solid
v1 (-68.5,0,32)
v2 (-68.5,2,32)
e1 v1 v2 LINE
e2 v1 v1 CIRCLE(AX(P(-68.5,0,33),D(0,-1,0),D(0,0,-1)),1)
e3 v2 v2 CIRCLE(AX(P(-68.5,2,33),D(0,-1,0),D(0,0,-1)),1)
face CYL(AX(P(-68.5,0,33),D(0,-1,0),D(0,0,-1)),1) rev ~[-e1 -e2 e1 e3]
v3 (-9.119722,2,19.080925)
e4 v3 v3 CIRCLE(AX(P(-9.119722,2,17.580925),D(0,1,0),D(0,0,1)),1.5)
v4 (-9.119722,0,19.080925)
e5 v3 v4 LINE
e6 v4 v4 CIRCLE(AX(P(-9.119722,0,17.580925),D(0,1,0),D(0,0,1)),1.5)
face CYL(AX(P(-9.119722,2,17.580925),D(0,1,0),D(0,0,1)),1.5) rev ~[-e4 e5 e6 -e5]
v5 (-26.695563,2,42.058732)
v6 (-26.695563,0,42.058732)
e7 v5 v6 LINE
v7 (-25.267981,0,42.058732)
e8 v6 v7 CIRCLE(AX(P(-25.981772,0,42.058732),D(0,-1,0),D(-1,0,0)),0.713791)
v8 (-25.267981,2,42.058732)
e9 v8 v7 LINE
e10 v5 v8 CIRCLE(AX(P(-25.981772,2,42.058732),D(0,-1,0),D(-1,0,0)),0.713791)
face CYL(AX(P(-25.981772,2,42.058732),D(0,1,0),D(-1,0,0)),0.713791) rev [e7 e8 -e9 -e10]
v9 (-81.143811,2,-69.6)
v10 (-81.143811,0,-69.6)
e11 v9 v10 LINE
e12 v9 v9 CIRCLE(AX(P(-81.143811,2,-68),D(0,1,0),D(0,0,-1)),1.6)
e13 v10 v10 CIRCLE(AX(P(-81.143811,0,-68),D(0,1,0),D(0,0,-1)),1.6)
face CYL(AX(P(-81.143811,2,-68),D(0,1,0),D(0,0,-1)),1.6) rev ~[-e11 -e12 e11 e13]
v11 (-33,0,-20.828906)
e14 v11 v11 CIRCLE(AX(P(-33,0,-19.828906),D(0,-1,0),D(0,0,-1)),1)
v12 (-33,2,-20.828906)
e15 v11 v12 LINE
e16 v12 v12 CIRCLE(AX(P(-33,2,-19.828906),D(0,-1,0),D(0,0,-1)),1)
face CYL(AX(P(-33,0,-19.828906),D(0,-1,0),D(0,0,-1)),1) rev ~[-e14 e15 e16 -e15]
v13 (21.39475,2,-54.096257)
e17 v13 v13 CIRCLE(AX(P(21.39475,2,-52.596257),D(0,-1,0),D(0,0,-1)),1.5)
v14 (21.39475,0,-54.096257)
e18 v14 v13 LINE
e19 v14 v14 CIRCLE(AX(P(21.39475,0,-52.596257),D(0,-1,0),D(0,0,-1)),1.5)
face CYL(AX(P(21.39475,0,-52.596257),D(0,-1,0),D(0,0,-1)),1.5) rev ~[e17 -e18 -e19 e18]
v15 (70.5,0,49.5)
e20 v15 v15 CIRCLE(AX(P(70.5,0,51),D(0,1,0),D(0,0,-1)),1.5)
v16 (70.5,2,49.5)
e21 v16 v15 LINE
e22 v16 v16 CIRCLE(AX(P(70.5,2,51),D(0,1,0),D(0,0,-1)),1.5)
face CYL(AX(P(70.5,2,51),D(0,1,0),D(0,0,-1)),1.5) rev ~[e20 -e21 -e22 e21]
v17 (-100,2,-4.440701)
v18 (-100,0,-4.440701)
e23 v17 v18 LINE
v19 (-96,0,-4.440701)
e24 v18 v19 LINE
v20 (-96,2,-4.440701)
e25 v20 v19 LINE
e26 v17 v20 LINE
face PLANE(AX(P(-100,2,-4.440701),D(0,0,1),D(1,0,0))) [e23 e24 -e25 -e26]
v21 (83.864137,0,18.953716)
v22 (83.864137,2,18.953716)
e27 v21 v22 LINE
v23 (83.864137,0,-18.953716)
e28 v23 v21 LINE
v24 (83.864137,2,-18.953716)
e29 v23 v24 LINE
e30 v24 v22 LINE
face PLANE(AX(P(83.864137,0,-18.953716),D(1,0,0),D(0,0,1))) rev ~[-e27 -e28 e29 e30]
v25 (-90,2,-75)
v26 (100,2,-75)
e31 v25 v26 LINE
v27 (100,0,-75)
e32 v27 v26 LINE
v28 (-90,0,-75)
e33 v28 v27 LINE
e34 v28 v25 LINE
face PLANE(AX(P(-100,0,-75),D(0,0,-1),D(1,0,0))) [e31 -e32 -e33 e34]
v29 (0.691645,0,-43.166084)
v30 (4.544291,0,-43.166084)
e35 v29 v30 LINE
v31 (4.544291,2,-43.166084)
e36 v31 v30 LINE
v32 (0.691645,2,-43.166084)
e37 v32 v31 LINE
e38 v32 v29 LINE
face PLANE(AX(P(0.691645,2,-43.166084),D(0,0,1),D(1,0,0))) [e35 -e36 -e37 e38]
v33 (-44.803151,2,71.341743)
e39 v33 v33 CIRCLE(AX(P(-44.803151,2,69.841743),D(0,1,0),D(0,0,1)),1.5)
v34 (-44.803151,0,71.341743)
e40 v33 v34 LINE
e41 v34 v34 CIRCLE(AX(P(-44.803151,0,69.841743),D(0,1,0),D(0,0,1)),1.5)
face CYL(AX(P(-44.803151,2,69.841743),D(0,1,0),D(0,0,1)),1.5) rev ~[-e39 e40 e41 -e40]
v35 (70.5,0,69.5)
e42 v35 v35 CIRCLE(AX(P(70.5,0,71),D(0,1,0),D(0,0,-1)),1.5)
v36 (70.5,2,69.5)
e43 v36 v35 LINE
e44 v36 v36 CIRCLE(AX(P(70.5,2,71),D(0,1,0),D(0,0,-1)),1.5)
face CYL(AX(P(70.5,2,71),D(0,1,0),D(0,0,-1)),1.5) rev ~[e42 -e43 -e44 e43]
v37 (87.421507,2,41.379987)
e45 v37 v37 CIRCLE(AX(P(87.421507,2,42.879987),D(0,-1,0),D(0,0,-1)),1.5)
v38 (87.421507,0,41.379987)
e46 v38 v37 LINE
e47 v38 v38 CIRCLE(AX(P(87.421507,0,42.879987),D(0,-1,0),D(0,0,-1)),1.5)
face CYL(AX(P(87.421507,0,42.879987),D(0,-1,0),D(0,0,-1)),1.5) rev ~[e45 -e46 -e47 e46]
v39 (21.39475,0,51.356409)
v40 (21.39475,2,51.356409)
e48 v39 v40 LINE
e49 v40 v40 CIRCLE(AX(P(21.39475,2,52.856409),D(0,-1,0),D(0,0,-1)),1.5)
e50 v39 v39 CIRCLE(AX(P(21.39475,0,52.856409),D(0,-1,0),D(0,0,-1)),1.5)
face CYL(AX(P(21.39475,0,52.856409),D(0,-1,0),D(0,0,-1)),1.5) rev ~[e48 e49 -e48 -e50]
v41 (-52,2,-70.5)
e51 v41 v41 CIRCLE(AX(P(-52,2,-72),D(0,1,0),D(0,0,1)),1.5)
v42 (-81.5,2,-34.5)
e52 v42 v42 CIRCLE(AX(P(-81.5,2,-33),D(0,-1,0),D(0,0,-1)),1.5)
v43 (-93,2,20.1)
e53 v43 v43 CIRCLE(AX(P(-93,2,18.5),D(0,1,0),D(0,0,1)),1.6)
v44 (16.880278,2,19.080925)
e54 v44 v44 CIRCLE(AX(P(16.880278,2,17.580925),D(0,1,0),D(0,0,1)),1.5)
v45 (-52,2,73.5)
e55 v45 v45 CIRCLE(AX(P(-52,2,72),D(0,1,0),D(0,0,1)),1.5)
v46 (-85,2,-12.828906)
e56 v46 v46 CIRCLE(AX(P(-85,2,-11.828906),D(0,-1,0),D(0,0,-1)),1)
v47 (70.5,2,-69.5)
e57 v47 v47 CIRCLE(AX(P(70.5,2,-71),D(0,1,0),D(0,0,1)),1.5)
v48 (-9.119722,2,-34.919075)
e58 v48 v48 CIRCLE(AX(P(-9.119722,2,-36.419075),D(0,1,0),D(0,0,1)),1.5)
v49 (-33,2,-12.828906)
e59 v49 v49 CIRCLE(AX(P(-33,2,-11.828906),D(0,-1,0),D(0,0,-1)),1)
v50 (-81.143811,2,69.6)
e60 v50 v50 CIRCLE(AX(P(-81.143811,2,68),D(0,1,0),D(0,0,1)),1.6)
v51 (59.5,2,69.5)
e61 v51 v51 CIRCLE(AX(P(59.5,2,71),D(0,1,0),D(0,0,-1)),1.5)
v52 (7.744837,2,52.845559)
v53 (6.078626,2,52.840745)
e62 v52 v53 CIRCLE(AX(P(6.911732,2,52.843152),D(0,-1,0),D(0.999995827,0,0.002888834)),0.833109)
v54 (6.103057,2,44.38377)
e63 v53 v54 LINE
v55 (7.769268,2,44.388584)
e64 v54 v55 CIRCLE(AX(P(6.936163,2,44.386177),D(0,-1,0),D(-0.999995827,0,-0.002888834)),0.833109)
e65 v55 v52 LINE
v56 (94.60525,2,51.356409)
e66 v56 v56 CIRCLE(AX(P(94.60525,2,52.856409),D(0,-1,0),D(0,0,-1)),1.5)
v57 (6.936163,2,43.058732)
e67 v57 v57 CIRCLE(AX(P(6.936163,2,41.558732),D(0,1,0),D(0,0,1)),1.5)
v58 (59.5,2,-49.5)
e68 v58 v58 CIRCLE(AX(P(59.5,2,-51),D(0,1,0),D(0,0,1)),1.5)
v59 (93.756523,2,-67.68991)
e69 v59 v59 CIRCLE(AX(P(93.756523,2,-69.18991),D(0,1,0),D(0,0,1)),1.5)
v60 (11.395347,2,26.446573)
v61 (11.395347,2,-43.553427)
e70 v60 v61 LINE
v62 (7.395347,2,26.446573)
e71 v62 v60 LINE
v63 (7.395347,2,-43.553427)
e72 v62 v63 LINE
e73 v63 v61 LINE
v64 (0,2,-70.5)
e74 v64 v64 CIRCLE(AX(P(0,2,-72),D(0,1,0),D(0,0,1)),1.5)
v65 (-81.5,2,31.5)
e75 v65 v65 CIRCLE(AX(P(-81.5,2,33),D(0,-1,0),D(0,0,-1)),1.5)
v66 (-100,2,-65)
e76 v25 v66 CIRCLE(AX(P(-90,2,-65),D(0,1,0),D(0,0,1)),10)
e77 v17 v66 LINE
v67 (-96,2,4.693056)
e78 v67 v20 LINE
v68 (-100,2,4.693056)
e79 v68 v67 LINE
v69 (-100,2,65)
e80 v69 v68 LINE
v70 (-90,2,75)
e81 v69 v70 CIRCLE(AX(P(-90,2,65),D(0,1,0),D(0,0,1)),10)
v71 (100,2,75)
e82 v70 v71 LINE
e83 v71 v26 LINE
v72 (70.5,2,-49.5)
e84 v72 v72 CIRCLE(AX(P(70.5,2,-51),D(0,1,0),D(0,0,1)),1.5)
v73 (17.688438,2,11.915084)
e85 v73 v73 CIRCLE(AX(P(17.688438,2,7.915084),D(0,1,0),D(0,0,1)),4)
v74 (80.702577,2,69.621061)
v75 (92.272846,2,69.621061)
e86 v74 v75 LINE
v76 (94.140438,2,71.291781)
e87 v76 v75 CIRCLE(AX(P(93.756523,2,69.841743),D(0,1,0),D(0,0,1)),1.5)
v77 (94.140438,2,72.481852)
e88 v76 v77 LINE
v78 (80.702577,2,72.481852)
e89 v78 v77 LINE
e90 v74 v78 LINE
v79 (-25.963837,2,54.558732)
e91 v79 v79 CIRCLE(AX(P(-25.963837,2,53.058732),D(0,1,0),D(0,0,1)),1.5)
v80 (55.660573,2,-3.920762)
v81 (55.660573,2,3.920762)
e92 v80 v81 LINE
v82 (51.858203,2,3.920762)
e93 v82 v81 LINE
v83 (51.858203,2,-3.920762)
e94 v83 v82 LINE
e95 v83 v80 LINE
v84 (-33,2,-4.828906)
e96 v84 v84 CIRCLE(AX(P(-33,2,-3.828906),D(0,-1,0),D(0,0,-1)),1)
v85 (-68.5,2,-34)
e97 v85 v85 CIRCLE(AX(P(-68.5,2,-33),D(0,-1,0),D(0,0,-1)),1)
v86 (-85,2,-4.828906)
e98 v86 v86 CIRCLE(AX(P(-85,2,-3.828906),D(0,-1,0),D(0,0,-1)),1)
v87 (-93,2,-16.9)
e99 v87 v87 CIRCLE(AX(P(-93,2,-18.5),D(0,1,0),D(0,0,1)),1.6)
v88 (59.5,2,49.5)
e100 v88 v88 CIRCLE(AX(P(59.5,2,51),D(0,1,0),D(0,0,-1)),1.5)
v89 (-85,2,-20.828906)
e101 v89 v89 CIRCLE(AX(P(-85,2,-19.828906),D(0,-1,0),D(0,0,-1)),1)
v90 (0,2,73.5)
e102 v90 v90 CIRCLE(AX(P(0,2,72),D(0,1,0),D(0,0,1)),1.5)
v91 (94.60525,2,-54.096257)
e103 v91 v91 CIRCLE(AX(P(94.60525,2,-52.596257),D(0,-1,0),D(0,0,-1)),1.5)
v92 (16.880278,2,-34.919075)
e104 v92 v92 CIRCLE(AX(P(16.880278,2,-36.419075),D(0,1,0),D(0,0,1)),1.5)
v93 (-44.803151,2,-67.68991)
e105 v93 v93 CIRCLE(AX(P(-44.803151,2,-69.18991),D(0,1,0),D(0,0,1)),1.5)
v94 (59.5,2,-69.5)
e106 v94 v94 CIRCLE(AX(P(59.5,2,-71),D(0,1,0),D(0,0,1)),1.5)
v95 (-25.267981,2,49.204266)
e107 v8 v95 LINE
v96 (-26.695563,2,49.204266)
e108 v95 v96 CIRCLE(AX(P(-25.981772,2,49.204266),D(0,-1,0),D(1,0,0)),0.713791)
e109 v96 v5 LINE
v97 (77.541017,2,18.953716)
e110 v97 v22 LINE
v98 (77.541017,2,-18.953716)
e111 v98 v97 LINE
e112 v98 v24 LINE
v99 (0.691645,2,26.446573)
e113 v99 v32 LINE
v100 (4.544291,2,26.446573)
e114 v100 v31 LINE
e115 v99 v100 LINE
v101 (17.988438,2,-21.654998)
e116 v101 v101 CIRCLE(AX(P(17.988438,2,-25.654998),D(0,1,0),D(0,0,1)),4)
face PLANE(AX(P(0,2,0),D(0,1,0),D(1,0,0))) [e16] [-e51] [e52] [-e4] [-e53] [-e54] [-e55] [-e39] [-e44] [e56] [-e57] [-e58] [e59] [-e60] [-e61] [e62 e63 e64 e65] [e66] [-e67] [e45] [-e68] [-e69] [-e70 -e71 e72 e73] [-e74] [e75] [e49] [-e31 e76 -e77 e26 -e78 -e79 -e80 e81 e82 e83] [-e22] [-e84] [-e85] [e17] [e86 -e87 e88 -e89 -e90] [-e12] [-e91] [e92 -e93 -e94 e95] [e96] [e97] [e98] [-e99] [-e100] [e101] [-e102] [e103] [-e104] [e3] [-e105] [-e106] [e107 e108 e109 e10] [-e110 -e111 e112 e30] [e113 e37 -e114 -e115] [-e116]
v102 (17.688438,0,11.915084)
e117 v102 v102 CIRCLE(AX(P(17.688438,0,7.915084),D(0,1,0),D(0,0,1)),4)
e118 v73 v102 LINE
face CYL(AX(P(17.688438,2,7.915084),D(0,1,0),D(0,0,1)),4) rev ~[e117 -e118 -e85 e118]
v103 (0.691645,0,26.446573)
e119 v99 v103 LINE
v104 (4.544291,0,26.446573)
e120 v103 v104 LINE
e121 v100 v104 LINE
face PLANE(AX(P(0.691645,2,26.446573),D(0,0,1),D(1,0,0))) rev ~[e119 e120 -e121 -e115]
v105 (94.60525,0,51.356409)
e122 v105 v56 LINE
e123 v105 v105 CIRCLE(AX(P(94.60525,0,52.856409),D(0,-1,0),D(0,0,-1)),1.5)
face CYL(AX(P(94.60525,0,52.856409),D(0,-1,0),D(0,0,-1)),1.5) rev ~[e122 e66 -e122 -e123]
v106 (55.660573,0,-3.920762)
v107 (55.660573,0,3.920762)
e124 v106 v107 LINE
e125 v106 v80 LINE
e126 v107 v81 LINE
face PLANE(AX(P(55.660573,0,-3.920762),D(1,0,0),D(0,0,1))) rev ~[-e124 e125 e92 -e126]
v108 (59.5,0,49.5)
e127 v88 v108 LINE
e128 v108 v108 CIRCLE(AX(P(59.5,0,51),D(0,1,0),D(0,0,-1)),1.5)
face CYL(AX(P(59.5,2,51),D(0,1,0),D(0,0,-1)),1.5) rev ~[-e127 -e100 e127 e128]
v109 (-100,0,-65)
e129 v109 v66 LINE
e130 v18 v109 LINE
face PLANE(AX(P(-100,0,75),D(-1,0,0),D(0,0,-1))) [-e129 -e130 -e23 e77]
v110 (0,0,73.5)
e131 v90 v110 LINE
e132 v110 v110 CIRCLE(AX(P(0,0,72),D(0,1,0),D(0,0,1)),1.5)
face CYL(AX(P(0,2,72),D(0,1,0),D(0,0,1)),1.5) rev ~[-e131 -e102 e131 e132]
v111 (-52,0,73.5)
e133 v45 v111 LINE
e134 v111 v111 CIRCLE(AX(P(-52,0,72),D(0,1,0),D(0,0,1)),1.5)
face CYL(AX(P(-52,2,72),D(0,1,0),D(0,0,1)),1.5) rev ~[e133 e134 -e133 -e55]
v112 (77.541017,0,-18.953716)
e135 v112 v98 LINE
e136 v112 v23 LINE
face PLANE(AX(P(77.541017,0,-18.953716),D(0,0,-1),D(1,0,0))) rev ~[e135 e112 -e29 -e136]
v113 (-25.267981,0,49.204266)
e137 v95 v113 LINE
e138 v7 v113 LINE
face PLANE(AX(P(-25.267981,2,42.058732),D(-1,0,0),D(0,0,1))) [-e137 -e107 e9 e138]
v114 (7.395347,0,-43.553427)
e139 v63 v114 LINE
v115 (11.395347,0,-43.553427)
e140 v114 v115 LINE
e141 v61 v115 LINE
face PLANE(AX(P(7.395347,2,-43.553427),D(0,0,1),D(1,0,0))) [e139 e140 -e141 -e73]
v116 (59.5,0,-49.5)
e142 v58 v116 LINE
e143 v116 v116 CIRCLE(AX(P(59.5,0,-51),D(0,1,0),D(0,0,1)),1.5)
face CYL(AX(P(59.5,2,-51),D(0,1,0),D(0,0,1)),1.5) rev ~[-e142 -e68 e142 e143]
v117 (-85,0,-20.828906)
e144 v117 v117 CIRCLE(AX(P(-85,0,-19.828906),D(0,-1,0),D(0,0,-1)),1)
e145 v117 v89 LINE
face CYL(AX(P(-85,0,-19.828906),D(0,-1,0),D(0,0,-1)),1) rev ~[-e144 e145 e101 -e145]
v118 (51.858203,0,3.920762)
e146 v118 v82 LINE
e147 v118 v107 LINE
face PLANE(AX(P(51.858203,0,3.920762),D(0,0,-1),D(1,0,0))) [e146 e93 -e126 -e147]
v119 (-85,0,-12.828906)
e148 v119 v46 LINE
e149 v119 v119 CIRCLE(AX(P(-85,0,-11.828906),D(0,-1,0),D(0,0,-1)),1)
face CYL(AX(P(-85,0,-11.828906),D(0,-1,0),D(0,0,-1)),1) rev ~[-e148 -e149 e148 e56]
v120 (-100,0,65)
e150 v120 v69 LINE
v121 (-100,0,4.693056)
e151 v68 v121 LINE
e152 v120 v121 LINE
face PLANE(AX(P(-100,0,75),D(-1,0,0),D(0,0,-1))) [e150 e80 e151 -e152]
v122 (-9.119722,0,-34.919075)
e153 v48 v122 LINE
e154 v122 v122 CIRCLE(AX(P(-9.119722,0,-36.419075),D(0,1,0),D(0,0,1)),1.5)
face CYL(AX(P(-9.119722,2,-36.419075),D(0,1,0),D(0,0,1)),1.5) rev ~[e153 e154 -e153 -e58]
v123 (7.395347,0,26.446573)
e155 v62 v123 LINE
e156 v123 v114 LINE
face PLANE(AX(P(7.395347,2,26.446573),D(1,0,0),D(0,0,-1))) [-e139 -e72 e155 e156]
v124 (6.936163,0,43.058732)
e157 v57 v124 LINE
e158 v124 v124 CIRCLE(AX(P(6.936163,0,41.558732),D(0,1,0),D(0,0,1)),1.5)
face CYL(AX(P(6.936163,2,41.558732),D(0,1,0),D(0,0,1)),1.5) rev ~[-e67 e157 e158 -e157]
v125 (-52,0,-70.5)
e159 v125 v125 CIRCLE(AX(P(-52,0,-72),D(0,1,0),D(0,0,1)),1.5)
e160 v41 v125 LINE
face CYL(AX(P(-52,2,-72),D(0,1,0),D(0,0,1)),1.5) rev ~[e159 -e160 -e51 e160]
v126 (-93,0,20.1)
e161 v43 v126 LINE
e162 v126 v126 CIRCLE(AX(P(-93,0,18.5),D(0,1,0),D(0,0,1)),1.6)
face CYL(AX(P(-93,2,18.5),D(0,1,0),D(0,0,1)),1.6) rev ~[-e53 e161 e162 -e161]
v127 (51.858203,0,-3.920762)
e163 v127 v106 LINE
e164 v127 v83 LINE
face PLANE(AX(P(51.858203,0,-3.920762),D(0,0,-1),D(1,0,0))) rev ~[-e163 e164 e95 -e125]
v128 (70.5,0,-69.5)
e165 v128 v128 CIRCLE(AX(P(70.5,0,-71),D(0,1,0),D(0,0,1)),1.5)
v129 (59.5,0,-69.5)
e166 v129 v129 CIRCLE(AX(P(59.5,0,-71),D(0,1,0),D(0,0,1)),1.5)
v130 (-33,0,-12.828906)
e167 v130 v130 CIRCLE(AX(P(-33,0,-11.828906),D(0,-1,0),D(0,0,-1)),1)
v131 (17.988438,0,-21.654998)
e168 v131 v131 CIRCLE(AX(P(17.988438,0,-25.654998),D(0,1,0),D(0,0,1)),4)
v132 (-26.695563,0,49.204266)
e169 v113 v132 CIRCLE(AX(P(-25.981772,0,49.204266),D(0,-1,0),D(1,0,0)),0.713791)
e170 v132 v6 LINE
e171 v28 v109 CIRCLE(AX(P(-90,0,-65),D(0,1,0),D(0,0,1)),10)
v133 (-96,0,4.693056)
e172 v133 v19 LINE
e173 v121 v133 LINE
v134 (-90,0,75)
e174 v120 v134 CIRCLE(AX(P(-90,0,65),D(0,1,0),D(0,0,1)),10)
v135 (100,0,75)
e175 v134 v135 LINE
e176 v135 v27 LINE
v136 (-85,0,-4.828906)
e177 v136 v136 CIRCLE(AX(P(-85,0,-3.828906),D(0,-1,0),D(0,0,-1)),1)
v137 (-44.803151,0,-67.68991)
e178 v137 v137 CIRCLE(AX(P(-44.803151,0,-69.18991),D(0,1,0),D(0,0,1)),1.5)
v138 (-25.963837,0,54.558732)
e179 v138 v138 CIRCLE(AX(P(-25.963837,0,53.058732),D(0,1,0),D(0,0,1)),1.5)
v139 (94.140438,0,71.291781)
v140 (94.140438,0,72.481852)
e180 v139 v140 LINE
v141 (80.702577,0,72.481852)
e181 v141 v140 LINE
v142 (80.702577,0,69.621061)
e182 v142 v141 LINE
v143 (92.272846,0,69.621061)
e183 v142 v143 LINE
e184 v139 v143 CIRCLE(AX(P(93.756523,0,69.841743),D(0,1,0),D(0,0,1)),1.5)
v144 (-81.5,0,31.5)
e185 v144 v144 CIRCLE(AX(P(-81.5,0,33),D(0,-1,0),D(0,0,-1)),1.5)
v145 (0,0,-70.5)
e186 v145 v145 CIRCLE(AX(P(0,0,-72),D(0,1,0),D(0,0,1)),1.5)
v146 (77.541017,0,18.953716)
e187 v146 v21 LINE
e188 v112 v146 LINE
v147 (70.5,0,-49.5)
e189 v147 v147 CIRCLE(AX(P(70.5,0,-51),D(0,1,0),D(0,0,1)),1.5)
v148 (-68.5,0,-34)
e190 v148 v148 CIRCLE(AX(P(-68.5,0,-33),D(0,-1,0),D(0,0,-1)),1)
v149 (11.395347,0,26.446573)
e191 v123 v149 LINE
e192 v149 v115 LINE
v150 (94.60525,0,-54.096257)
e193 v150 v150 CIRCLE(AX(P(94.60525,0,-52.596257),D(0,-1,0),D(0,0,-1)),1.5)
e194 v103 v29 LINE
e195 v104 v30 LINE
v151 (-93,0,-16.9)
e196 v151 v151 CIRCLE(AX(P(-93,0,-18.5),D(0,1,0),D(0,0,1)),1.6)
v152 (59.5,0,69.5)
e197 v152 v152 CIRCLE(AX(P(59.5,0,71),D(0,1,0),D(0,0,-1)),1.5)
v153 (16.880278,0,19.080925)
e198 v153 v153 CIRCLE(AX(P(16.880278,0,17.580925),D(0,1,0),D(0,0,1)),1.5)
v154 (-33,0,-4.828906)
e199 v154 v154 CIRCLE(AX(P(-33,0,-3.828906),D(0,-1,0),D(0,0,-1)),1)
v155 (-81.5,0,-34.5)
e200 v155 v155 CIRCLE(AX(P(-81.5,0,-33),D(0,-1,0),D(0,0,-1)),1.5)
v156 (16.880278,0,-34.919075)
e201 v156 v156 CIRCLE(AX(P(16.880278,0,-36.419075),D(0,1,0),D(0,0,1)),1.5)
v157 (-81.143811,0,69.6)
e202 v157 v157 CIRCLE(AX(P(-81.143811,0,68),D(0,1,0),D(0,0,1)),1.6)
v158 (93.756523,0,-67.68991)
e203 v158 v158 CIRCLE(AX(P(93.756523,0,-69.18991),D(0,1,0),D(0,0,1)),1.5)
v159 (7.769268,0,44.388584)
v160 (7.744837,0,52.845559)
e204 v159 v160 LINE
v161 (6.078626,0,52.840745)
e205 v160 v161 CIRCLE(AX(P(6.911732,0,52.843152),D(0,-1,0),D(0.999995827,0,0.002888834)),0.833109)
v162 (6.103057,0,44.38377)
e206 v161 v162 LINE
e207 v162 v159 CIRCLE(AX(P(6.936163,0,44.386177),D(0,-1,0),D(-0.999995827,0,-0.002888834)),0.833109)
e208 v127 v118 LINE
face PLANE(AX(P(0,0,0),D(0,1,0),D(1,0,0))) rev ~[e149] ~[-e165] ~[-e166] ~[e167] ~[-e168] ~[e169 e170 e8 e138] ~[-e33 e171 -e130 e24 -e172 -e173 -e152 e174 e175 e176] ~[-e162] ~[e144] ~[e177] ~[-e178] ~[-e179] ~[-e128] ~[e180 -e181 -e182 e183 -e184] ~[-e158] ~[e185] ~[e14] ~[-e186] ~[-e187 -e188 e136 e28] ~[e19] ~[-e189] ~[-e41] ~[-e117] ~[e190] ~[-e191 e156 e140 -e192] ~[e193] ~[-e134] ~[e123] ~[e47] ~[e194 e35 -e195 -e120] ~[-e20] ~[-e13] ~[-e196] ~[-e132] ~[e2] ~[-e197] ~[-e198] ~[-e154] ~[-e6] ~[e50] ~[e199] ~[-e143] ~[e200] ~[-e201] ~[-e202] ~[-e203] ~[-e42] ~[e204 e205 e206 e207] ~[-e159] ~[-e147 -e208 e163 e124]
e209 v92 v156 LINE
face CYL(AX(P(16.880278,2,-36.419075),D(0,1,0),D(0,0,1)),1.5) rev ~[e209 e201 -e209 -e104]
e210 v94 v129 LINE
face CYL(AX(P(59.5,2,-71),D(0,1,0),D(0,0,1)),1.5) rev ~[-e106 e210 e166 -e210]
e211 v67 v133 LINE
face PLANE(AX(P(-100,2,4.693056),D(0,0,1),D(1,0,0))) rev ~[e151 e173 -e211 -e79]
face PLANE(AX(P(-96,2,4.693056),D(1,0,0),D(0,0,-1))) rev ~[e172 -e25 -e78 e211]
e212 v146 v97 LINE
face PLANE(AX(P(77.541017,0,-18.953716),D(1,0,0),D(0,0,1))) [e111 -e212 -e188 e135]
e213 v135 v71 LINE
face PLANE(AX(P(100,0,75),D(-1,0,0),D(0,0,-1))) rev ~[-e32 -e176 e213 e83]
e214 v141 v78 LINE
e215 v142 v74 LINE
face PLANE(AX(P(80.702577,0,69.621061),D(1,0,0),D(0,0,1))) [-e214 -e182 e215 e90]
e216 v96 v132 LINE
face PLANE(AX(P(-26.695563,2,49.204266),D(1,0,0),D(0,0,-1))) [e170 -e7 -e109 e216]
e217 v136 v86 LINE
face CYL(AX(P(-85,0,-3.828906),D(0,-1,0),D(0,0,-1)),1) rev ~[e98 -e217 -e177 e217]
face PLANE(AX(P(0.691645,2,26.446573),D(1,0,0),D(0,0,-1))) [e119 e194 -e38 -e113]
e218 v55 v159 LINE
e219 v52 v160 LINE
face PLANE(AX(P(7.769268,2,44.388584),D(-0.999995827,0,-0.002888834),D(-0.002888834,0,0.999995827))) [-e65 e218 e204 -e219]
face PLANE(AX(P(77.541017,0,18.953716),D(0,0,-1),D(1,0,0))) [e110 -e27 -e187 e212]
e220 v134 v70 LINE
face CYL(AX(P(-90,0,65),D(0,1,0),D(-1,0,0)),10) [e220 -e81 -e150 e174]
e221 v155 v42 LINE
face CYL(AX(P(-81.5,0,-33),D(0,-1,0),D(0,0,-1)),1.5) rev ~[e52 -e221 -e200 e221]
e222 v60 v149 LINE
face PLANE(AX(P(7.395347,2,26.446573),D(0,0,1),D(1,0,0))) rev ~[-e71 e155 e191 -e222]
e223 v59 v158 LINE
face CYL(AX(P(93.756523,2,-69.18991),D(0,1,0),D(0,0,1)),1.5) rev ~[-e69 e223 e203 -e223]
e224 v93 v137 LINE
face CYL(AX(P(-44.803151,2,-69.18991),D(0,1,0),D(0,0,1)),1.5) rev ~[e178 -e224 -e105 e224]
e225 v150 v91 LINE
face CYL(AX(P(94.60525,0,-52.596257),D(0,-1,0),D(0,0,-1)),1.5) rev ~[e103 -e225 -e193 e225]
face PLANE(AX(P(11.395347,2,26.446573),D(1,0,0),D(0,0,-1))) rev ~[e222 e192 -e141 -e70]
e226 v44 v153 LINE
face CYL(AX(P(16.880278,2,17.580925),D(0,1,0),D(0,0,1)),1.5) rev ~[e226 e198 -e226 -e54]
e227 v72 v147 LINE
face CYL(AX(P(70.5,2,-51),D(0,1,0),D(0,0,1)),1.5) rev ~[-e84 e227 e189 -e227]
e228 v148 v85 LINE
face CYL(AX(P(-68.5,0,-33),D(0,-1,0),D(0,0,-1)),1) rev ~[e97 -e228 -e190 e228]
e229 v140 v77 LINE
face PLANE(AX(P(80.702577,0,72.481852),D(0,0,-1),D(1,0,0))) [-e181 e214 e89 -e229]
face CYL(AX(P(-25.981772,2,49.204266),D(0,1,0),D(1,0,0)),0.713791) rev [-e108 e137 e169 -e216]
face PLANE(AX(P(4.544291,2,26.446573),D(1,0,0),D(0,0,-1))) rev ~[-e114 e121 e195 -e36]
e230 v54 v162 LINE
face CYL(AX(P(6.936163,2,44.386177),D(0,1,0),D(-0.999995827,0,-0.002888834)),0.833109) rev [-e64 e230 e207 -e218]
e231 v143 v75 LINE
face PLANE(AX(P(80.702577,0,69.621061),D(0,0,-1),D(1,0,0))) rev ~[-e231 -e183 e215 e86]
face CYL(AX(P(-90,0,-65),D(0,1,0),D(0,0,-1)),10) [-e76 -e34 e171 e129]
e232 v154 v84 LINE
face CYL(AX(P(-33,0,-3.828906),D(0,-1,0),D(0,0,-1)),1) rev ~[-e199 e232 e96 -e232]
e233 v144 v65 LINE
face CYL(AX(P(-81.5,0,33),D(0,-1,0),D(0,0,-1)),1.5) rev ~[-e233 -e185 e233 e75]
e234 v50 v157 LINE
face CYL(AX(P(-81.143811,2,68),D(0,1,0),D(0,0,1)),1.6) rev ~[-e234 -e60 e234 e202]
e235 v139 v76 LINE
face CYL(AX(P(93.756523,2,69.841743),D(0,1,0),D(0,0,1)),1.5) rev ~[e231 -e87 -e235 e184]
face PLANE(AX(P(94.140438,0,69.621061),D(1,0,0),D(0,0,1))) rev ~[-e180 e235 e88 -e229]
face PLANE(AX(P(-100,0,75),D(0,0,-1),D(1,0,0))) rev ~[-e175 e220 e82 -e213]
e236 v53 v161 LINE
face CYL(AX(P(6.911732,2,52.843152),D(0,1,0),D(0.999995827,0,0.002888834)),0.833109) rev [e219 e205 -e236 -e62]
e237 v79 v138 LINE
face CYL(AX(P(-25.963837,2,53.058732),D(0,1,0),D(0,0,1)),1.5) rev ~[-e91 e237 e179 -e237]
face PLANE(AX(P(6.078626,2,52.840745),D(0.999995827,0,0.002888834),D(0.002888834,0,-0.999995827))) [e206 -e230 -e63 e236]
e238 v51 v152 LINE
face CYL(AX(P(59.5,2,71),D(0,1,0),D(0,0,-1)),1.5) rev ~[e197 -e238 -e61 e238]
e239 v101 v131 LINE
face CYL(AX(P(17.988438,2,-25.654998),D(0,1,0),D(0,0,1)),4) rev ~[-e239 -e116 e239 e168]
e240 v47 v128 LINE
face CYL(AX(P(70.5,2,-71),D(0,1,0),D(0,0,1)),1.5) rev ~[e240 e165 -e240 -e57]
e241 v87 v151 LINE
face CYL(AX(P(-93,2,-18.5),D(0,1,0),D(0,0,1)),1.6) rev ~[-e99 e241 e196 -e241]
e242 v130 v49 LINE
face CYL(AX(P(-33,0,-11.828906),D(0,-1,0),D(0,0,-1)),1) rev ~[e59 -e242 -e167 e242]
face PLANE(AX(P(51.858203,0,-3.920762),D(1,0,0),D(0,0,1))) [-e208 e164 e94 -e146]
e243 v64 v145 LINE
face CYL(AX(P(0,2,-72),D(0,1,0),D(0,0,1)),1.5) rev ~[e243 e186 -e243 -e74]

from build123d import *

# Parameters (mm, degrees)
SKETCH1_W           = 200
SKETCH1_H           = 150
BOSS_EXTRUDE2_DEPTH = 2
SKETCH2_R           = 1.5
CUT_EXTRUDE5_DEPTH  = 10
SKETCH4_R           = 1.5
SKETCH4_R_2         = 1
CUT_EXTRUDE6_DEPTH  = 10
SKETCH5_R           = 1.5
CUT_EXTRUDE7_DEPTH  = 2
SKETCH9_R           = 1.5
CUT_EXTRUDE8_DEPTH  = 2
SKETCH10_R          = 1.6
CUT_EXTRUDE9_DEPTH  = 2
SKETCH11_R          = 1.6
CUT_EXTRUDE10_DEPTH = 2
SKETCH13_R          = 1.5
SKETCH13_R_2        = 4
SKETCH13_W          = 3.852645584
SKETCH13_H          = 69.612656739
SKETCH13_W_2        = 4
SKETCH13_H_2        = 70
SKETCH13_H_3        = 9.133756838
CUT_EXTRUDE11_DEPTH = 2
SKETCH15_R          = 1.5
SKETCH15_W          = 13.437861814
SKETCH15_H          = 2.860791374
SKETCH15_W_2        = 3.802370222
SKETCH15_H_2        = 7.84152301
SKETCH15_W_3        = 6.323120029
SKETCH15_H_3        = 37.907431128
CUT_EXTRUDE13_DEPTH = 2
FILLET1_R           = 10


with BuildPart() as part:
    # Sketch1 → Boss-Extrude2 (new body)
    with BuildSketch(Plane(origin=(0, 0, 0), x_dir=(1, 0, 0), z_dir=(0, 1, 0))):
        Rectangle(SKETCH1_W, SKETCH1_H)
    extrude(amount=BOSS_EXTRUDE2_DEPTH)

    # Sketch2 → Cut-Extrude5 (cut)
    with BuildSketch(Plane(origin=(0, 2, 0), x_dir=(1, 0, 0), z_dir=(0, 1, 0))):
        with Locations(Location((59.5, 71, 0), (0, 0, 270))):
            Circle(SKETCH2_R)
        with Locations(Location((59.5, 51, 0), (0, 0, 270))):
            Circle(SKETCH2_R)
        with Locations(Location((70.5, 71, 0), (0, 0, 270))):
            Circle(SKETCH2_R)
        with Locations(Location((70.5, 51, 0), (0, 0, 270))):
            Circle(SKETCH2_R)
        with Locations(Location((70.5, -51, 0), (0, 0, 90))):
            Circle(SKETCH2_R)
        with Locations(Location((70.5, -71, 0), (0, 0, 90))):
            Circle(SKETCH2_R)
        with Locations(Location((59.5, -51, 0), (0, 0, 90))):
            Circle(SKETCH2_R)
        with Locations(Location((59.5, -71, 0), (0, 0, 90))):
            Circle(SKETCH2_R)
    extrude(amount=-CUT_EXTRUDE5_DEPTH, mode=Mode.SUBTRACT)

    # Sketch4 → Cut-Extrude6 (cut)
    with BuildSketch(Plane.XZ):
        with Locations(Location((-81.5, 33, 0), (0, 0, 270))):
            Circle(SKETCH4_R)
        with Locations(Location((-68.5, 33, 0), (0, 0, 270))):
            Circle(SKETCH4_R_2)
        with Locations(Location((-68.5, -33, 0), (0, 0, 270))):
            Circle(SKETCH4_R_2)
        with Locations(Location((-81.5, -33, 0), (0, 0, 270))):
            Circle(SKETCH4_R)
        with Locations(Location((-33, -19.828905718, 0), (0, 0, 270))):
            Circle(SKETCH4_R_2)
        with Locations(Location((-33, -11.828905718, 0), (0, 0, 270))):
            Circle(SKETCH4_R_2)
        with Locations(Location((-33, -3.828905718, 0), (0, 0, 270))):
            Circle(SKETCH4_R_2)
        with Locations(Location((-85, -19.828905718, 0), (0, 0, 270))):
            Circle(SKETCH4_R_2)
        with Locations(Location((-85, -11.828905718, 0), (0, 0, 270))):
            Circle(SKETCH4_R_2)
        with Locations(Location((-85, -3.828905718, 0), (0, 0, 270))):
            Circle(SKETCH4_R_2)
    extrude(amount=-CUT_EXTRUDE6_DEPTH, mode=Mode.SUBTRACT)

    # Sketch5 → Cut-Extrude7 (cut)
    with BuildSketch(Plane(origin=(0, 2, 0), x_dir=(1, 0, 0), z_dir=(0, 1, 0))):
        with Locations(Location((0, 72, 0), (0, 0, 270))):
            Circle(SKETCH5_R)
        with Locations(Location((0, -72, 0), (0, 0, 270))):
            Circle(SKETCH5_R)
    extrude(amount=-CUT_EXTRUDE7_DEPTH, mode=Mode.SUBTRACT)

    # Sketch9 → Cut-Extrude8 (cut)
    with BuildSketch(Plane(origin=(0, 2, 0), x_dir=(1, 0, 0), z_dir=(0, 1, 0))):
        with Locations(Location((-52, 72, 0), (0, 0, 270))):
            Circle(SKETCH9_R)
        with Locations(Location((-52, -72, 0), (0, 0, 270))):
            Circle(SKETCH9_R)
    extrude(amount=-CUT_EXTRUDE8_DEPTH, mode=Mode.SUBTRACT)

    # Sketch10 → Cut-Extrude9 (cut)
    with BuildSketch(Plane(origin=(0, 2, 0), x_dir=(1, 0, 0), z_dir=(0, 1, 0))):
        with Locations(Location((-93, -18.5, 0), (0, 0, 270))):
            Circle(SKETCH10_R)
        with Locations(Location((-93, 18.5, 0), (0, 0, 270))):
            Circle(SKETCH10_R)
    extrude(amount=-CUT_EXTRUDE9_DEPTH, mode=Mode.SUBTRACT)

    # Sketch11 → Cut-Extrude10 (cut)
    with BuildSketch(Plane(origin=(0, 2, 0), x_dir=(1, 0, 0), z_dir=(0, 1, 0))):
        with Locations(Location((-81.143811431, -68, 0), (0, 0, 270))):
            Circle(SKETCH11_R)
        with Locations(Location((-81.143811431, 68, 0), (0, 0, 90))):
            Circle(SKETCH11_R)
    extrude(amount=-CUT_EXTRUDE10_DEPTH, mode=Mode.SUBTRACT)

    # Sketch13 → Cut-Extrude11 (cut)
    with BuildSketch(Plane(origin=(0, 2, 0), x_dir=(1, 0, 0), z_dir=(0, 1, 0))):
        with Locations(Location((-9.119722343, -17.580925048, 0), (0, 0, 270))):
            Circle(SKETCH13_R)
        with Locations(Location((16.880277657, -17.580925048, 0), (0, 0, 270))):
            Circle(SKETCH13_R)
        with Locations(Location((16.880277657, 36.419074952, 0), (0, 0, 270))):
            Circle(SKETCH13_R)
        with Locations(Location((-9.119722343, 36.419074952, 0), (0, 0, 270))):
            Circle(SKETCH13_R)
        with Locations(Location((17.988437806, 25.654998333, 0), (0, 0, 270))):
            Circle(SKETCH13_R_2)
        with Locations(Location((17.688437806, -7.915084342, 0), (0, 0, 270))):
            Circle(SKETCH13_R_2)
        with Locations(Location((-44.803150728, 69.189910235, 0), (0, 0, 270))):
            Circle(SKETCH13_R)
        with Locations(Location((-44.803150728, -69.841742989, 0), (0, 0, 270))):
            Circle(SKETCH13_R)
        with Locations(Location((93.756523302, 69.189910235, 0), (0, 0, 270))):
            Circle(SKETCH13_R)
        with Locations(Location((93.756523302, -69.841742989, 0), (0, 0, 270))):
            Circle(SKETCH13_R)
        with Locations(Location((-25.963837205, -53.058732034, 0), (0, 0, 270))):
            Circle(SKETCH13_R)
        with Locations(Location((6.936162795, -41.558732034, 0), (0, 0, 270))):
            Circle(SKETCH13_R)
        with Locations((2.617967958, 8.35975515)):
            Rectangle(SKETCH13_W, SKETCH13_H)
        with Locations((9.395346995, 8.55342678)):
            Rectangle(SKETCH13_W_2, SKETCH13_H_2)
        with BuildLine():
            Line((-26.695563248, -49.204265927), (-26.695563248, -42.058732034))
            ThreePointArc((-26.695563248, -42.058732034), (-25.981772316, -41.344941102), (-25.267981384, -42.058732034))
            Line((-25.267981384, -42.058732034), (-25.267981384, -49.204265927))
            ThreePointArc((-25.267981384, -49.204265927), (-25.981772316, -49.918056859), (-26.695563248, -49.204265927))
        make_face()
        with BuildLine():
            Line((7.769268237, -44.388583851), (7.74483734, -52.845558713))
            ThreePointArc((7.74483734, -52.845558713), (6.909325186, -53.676257441), (6.078626457, -52.840745287))
            Line((6.078626457, -52.840745287), (6.103057354, -44.383770425))
            ThreePointArc((6.103057354, -44.383770425), (6.938569508, -43.553071697), (7.769268237, -44.388583851))
        make_face()
        with Locations((-98, -0.126177239)):
            Rectangle(SKETCH13_W_2, SKETCH13_H_3)
    extrude(amount=-CUT_EXTRUDE11_DEPTH, mode=Mode.SUBTRACT)

    # Sketch15 → Cut-Extrude13 (cut)
    with BuildSketch(Plane.XZ):
        with Locations(Location((87.421507423, 42.879986954, 0), (0, 0, 270))):
            Circle(SKETCH15_R)
        with Locations(Location((94.605250478, -52.59625709, 0), (0, 0, 270))):
            Circle(SKETCH15_R)
        with Locations(Location((94.605250478, 52.856409291, 0), (0, 0, 270))):
            Circle(SKETCH15_R)
        with Locations(Location((21.394749522, -52.59625709, 0), (0, 0, 270))):
            Circle(SKETCH15_R)
        with Locations(Location((21.394749522, 52.856409291, 0), (0, 0, 270))):
            Circle(SKETCH15_R)
        with Locations((87.421507423, 71.051456506)):
            Rectangle(SKETCH15_W, SKETCH15_H)
        with Locations((53.759388105, 0)):
            Rectangle(SKETCH15_W_2, SKETCH15_H_2)
        with Locations((80.702576515, 0)):
            Rectangle(SKETCH15_W_3, SKETCH15_H_3)
    extrude(amount=-CUT_EXTRUDE13_DEPTH, mode=Mode.SUBTRACT)

    # Fillet1
    fillet1_edges = [part.edges().sort_by_distance(p)[0] for p in [
        (-100, 1, 75),
        (-100, 1, -75),
    ]]
    fillet(fillet1_edges, radius=FILLET1_R)


solid = part.part
